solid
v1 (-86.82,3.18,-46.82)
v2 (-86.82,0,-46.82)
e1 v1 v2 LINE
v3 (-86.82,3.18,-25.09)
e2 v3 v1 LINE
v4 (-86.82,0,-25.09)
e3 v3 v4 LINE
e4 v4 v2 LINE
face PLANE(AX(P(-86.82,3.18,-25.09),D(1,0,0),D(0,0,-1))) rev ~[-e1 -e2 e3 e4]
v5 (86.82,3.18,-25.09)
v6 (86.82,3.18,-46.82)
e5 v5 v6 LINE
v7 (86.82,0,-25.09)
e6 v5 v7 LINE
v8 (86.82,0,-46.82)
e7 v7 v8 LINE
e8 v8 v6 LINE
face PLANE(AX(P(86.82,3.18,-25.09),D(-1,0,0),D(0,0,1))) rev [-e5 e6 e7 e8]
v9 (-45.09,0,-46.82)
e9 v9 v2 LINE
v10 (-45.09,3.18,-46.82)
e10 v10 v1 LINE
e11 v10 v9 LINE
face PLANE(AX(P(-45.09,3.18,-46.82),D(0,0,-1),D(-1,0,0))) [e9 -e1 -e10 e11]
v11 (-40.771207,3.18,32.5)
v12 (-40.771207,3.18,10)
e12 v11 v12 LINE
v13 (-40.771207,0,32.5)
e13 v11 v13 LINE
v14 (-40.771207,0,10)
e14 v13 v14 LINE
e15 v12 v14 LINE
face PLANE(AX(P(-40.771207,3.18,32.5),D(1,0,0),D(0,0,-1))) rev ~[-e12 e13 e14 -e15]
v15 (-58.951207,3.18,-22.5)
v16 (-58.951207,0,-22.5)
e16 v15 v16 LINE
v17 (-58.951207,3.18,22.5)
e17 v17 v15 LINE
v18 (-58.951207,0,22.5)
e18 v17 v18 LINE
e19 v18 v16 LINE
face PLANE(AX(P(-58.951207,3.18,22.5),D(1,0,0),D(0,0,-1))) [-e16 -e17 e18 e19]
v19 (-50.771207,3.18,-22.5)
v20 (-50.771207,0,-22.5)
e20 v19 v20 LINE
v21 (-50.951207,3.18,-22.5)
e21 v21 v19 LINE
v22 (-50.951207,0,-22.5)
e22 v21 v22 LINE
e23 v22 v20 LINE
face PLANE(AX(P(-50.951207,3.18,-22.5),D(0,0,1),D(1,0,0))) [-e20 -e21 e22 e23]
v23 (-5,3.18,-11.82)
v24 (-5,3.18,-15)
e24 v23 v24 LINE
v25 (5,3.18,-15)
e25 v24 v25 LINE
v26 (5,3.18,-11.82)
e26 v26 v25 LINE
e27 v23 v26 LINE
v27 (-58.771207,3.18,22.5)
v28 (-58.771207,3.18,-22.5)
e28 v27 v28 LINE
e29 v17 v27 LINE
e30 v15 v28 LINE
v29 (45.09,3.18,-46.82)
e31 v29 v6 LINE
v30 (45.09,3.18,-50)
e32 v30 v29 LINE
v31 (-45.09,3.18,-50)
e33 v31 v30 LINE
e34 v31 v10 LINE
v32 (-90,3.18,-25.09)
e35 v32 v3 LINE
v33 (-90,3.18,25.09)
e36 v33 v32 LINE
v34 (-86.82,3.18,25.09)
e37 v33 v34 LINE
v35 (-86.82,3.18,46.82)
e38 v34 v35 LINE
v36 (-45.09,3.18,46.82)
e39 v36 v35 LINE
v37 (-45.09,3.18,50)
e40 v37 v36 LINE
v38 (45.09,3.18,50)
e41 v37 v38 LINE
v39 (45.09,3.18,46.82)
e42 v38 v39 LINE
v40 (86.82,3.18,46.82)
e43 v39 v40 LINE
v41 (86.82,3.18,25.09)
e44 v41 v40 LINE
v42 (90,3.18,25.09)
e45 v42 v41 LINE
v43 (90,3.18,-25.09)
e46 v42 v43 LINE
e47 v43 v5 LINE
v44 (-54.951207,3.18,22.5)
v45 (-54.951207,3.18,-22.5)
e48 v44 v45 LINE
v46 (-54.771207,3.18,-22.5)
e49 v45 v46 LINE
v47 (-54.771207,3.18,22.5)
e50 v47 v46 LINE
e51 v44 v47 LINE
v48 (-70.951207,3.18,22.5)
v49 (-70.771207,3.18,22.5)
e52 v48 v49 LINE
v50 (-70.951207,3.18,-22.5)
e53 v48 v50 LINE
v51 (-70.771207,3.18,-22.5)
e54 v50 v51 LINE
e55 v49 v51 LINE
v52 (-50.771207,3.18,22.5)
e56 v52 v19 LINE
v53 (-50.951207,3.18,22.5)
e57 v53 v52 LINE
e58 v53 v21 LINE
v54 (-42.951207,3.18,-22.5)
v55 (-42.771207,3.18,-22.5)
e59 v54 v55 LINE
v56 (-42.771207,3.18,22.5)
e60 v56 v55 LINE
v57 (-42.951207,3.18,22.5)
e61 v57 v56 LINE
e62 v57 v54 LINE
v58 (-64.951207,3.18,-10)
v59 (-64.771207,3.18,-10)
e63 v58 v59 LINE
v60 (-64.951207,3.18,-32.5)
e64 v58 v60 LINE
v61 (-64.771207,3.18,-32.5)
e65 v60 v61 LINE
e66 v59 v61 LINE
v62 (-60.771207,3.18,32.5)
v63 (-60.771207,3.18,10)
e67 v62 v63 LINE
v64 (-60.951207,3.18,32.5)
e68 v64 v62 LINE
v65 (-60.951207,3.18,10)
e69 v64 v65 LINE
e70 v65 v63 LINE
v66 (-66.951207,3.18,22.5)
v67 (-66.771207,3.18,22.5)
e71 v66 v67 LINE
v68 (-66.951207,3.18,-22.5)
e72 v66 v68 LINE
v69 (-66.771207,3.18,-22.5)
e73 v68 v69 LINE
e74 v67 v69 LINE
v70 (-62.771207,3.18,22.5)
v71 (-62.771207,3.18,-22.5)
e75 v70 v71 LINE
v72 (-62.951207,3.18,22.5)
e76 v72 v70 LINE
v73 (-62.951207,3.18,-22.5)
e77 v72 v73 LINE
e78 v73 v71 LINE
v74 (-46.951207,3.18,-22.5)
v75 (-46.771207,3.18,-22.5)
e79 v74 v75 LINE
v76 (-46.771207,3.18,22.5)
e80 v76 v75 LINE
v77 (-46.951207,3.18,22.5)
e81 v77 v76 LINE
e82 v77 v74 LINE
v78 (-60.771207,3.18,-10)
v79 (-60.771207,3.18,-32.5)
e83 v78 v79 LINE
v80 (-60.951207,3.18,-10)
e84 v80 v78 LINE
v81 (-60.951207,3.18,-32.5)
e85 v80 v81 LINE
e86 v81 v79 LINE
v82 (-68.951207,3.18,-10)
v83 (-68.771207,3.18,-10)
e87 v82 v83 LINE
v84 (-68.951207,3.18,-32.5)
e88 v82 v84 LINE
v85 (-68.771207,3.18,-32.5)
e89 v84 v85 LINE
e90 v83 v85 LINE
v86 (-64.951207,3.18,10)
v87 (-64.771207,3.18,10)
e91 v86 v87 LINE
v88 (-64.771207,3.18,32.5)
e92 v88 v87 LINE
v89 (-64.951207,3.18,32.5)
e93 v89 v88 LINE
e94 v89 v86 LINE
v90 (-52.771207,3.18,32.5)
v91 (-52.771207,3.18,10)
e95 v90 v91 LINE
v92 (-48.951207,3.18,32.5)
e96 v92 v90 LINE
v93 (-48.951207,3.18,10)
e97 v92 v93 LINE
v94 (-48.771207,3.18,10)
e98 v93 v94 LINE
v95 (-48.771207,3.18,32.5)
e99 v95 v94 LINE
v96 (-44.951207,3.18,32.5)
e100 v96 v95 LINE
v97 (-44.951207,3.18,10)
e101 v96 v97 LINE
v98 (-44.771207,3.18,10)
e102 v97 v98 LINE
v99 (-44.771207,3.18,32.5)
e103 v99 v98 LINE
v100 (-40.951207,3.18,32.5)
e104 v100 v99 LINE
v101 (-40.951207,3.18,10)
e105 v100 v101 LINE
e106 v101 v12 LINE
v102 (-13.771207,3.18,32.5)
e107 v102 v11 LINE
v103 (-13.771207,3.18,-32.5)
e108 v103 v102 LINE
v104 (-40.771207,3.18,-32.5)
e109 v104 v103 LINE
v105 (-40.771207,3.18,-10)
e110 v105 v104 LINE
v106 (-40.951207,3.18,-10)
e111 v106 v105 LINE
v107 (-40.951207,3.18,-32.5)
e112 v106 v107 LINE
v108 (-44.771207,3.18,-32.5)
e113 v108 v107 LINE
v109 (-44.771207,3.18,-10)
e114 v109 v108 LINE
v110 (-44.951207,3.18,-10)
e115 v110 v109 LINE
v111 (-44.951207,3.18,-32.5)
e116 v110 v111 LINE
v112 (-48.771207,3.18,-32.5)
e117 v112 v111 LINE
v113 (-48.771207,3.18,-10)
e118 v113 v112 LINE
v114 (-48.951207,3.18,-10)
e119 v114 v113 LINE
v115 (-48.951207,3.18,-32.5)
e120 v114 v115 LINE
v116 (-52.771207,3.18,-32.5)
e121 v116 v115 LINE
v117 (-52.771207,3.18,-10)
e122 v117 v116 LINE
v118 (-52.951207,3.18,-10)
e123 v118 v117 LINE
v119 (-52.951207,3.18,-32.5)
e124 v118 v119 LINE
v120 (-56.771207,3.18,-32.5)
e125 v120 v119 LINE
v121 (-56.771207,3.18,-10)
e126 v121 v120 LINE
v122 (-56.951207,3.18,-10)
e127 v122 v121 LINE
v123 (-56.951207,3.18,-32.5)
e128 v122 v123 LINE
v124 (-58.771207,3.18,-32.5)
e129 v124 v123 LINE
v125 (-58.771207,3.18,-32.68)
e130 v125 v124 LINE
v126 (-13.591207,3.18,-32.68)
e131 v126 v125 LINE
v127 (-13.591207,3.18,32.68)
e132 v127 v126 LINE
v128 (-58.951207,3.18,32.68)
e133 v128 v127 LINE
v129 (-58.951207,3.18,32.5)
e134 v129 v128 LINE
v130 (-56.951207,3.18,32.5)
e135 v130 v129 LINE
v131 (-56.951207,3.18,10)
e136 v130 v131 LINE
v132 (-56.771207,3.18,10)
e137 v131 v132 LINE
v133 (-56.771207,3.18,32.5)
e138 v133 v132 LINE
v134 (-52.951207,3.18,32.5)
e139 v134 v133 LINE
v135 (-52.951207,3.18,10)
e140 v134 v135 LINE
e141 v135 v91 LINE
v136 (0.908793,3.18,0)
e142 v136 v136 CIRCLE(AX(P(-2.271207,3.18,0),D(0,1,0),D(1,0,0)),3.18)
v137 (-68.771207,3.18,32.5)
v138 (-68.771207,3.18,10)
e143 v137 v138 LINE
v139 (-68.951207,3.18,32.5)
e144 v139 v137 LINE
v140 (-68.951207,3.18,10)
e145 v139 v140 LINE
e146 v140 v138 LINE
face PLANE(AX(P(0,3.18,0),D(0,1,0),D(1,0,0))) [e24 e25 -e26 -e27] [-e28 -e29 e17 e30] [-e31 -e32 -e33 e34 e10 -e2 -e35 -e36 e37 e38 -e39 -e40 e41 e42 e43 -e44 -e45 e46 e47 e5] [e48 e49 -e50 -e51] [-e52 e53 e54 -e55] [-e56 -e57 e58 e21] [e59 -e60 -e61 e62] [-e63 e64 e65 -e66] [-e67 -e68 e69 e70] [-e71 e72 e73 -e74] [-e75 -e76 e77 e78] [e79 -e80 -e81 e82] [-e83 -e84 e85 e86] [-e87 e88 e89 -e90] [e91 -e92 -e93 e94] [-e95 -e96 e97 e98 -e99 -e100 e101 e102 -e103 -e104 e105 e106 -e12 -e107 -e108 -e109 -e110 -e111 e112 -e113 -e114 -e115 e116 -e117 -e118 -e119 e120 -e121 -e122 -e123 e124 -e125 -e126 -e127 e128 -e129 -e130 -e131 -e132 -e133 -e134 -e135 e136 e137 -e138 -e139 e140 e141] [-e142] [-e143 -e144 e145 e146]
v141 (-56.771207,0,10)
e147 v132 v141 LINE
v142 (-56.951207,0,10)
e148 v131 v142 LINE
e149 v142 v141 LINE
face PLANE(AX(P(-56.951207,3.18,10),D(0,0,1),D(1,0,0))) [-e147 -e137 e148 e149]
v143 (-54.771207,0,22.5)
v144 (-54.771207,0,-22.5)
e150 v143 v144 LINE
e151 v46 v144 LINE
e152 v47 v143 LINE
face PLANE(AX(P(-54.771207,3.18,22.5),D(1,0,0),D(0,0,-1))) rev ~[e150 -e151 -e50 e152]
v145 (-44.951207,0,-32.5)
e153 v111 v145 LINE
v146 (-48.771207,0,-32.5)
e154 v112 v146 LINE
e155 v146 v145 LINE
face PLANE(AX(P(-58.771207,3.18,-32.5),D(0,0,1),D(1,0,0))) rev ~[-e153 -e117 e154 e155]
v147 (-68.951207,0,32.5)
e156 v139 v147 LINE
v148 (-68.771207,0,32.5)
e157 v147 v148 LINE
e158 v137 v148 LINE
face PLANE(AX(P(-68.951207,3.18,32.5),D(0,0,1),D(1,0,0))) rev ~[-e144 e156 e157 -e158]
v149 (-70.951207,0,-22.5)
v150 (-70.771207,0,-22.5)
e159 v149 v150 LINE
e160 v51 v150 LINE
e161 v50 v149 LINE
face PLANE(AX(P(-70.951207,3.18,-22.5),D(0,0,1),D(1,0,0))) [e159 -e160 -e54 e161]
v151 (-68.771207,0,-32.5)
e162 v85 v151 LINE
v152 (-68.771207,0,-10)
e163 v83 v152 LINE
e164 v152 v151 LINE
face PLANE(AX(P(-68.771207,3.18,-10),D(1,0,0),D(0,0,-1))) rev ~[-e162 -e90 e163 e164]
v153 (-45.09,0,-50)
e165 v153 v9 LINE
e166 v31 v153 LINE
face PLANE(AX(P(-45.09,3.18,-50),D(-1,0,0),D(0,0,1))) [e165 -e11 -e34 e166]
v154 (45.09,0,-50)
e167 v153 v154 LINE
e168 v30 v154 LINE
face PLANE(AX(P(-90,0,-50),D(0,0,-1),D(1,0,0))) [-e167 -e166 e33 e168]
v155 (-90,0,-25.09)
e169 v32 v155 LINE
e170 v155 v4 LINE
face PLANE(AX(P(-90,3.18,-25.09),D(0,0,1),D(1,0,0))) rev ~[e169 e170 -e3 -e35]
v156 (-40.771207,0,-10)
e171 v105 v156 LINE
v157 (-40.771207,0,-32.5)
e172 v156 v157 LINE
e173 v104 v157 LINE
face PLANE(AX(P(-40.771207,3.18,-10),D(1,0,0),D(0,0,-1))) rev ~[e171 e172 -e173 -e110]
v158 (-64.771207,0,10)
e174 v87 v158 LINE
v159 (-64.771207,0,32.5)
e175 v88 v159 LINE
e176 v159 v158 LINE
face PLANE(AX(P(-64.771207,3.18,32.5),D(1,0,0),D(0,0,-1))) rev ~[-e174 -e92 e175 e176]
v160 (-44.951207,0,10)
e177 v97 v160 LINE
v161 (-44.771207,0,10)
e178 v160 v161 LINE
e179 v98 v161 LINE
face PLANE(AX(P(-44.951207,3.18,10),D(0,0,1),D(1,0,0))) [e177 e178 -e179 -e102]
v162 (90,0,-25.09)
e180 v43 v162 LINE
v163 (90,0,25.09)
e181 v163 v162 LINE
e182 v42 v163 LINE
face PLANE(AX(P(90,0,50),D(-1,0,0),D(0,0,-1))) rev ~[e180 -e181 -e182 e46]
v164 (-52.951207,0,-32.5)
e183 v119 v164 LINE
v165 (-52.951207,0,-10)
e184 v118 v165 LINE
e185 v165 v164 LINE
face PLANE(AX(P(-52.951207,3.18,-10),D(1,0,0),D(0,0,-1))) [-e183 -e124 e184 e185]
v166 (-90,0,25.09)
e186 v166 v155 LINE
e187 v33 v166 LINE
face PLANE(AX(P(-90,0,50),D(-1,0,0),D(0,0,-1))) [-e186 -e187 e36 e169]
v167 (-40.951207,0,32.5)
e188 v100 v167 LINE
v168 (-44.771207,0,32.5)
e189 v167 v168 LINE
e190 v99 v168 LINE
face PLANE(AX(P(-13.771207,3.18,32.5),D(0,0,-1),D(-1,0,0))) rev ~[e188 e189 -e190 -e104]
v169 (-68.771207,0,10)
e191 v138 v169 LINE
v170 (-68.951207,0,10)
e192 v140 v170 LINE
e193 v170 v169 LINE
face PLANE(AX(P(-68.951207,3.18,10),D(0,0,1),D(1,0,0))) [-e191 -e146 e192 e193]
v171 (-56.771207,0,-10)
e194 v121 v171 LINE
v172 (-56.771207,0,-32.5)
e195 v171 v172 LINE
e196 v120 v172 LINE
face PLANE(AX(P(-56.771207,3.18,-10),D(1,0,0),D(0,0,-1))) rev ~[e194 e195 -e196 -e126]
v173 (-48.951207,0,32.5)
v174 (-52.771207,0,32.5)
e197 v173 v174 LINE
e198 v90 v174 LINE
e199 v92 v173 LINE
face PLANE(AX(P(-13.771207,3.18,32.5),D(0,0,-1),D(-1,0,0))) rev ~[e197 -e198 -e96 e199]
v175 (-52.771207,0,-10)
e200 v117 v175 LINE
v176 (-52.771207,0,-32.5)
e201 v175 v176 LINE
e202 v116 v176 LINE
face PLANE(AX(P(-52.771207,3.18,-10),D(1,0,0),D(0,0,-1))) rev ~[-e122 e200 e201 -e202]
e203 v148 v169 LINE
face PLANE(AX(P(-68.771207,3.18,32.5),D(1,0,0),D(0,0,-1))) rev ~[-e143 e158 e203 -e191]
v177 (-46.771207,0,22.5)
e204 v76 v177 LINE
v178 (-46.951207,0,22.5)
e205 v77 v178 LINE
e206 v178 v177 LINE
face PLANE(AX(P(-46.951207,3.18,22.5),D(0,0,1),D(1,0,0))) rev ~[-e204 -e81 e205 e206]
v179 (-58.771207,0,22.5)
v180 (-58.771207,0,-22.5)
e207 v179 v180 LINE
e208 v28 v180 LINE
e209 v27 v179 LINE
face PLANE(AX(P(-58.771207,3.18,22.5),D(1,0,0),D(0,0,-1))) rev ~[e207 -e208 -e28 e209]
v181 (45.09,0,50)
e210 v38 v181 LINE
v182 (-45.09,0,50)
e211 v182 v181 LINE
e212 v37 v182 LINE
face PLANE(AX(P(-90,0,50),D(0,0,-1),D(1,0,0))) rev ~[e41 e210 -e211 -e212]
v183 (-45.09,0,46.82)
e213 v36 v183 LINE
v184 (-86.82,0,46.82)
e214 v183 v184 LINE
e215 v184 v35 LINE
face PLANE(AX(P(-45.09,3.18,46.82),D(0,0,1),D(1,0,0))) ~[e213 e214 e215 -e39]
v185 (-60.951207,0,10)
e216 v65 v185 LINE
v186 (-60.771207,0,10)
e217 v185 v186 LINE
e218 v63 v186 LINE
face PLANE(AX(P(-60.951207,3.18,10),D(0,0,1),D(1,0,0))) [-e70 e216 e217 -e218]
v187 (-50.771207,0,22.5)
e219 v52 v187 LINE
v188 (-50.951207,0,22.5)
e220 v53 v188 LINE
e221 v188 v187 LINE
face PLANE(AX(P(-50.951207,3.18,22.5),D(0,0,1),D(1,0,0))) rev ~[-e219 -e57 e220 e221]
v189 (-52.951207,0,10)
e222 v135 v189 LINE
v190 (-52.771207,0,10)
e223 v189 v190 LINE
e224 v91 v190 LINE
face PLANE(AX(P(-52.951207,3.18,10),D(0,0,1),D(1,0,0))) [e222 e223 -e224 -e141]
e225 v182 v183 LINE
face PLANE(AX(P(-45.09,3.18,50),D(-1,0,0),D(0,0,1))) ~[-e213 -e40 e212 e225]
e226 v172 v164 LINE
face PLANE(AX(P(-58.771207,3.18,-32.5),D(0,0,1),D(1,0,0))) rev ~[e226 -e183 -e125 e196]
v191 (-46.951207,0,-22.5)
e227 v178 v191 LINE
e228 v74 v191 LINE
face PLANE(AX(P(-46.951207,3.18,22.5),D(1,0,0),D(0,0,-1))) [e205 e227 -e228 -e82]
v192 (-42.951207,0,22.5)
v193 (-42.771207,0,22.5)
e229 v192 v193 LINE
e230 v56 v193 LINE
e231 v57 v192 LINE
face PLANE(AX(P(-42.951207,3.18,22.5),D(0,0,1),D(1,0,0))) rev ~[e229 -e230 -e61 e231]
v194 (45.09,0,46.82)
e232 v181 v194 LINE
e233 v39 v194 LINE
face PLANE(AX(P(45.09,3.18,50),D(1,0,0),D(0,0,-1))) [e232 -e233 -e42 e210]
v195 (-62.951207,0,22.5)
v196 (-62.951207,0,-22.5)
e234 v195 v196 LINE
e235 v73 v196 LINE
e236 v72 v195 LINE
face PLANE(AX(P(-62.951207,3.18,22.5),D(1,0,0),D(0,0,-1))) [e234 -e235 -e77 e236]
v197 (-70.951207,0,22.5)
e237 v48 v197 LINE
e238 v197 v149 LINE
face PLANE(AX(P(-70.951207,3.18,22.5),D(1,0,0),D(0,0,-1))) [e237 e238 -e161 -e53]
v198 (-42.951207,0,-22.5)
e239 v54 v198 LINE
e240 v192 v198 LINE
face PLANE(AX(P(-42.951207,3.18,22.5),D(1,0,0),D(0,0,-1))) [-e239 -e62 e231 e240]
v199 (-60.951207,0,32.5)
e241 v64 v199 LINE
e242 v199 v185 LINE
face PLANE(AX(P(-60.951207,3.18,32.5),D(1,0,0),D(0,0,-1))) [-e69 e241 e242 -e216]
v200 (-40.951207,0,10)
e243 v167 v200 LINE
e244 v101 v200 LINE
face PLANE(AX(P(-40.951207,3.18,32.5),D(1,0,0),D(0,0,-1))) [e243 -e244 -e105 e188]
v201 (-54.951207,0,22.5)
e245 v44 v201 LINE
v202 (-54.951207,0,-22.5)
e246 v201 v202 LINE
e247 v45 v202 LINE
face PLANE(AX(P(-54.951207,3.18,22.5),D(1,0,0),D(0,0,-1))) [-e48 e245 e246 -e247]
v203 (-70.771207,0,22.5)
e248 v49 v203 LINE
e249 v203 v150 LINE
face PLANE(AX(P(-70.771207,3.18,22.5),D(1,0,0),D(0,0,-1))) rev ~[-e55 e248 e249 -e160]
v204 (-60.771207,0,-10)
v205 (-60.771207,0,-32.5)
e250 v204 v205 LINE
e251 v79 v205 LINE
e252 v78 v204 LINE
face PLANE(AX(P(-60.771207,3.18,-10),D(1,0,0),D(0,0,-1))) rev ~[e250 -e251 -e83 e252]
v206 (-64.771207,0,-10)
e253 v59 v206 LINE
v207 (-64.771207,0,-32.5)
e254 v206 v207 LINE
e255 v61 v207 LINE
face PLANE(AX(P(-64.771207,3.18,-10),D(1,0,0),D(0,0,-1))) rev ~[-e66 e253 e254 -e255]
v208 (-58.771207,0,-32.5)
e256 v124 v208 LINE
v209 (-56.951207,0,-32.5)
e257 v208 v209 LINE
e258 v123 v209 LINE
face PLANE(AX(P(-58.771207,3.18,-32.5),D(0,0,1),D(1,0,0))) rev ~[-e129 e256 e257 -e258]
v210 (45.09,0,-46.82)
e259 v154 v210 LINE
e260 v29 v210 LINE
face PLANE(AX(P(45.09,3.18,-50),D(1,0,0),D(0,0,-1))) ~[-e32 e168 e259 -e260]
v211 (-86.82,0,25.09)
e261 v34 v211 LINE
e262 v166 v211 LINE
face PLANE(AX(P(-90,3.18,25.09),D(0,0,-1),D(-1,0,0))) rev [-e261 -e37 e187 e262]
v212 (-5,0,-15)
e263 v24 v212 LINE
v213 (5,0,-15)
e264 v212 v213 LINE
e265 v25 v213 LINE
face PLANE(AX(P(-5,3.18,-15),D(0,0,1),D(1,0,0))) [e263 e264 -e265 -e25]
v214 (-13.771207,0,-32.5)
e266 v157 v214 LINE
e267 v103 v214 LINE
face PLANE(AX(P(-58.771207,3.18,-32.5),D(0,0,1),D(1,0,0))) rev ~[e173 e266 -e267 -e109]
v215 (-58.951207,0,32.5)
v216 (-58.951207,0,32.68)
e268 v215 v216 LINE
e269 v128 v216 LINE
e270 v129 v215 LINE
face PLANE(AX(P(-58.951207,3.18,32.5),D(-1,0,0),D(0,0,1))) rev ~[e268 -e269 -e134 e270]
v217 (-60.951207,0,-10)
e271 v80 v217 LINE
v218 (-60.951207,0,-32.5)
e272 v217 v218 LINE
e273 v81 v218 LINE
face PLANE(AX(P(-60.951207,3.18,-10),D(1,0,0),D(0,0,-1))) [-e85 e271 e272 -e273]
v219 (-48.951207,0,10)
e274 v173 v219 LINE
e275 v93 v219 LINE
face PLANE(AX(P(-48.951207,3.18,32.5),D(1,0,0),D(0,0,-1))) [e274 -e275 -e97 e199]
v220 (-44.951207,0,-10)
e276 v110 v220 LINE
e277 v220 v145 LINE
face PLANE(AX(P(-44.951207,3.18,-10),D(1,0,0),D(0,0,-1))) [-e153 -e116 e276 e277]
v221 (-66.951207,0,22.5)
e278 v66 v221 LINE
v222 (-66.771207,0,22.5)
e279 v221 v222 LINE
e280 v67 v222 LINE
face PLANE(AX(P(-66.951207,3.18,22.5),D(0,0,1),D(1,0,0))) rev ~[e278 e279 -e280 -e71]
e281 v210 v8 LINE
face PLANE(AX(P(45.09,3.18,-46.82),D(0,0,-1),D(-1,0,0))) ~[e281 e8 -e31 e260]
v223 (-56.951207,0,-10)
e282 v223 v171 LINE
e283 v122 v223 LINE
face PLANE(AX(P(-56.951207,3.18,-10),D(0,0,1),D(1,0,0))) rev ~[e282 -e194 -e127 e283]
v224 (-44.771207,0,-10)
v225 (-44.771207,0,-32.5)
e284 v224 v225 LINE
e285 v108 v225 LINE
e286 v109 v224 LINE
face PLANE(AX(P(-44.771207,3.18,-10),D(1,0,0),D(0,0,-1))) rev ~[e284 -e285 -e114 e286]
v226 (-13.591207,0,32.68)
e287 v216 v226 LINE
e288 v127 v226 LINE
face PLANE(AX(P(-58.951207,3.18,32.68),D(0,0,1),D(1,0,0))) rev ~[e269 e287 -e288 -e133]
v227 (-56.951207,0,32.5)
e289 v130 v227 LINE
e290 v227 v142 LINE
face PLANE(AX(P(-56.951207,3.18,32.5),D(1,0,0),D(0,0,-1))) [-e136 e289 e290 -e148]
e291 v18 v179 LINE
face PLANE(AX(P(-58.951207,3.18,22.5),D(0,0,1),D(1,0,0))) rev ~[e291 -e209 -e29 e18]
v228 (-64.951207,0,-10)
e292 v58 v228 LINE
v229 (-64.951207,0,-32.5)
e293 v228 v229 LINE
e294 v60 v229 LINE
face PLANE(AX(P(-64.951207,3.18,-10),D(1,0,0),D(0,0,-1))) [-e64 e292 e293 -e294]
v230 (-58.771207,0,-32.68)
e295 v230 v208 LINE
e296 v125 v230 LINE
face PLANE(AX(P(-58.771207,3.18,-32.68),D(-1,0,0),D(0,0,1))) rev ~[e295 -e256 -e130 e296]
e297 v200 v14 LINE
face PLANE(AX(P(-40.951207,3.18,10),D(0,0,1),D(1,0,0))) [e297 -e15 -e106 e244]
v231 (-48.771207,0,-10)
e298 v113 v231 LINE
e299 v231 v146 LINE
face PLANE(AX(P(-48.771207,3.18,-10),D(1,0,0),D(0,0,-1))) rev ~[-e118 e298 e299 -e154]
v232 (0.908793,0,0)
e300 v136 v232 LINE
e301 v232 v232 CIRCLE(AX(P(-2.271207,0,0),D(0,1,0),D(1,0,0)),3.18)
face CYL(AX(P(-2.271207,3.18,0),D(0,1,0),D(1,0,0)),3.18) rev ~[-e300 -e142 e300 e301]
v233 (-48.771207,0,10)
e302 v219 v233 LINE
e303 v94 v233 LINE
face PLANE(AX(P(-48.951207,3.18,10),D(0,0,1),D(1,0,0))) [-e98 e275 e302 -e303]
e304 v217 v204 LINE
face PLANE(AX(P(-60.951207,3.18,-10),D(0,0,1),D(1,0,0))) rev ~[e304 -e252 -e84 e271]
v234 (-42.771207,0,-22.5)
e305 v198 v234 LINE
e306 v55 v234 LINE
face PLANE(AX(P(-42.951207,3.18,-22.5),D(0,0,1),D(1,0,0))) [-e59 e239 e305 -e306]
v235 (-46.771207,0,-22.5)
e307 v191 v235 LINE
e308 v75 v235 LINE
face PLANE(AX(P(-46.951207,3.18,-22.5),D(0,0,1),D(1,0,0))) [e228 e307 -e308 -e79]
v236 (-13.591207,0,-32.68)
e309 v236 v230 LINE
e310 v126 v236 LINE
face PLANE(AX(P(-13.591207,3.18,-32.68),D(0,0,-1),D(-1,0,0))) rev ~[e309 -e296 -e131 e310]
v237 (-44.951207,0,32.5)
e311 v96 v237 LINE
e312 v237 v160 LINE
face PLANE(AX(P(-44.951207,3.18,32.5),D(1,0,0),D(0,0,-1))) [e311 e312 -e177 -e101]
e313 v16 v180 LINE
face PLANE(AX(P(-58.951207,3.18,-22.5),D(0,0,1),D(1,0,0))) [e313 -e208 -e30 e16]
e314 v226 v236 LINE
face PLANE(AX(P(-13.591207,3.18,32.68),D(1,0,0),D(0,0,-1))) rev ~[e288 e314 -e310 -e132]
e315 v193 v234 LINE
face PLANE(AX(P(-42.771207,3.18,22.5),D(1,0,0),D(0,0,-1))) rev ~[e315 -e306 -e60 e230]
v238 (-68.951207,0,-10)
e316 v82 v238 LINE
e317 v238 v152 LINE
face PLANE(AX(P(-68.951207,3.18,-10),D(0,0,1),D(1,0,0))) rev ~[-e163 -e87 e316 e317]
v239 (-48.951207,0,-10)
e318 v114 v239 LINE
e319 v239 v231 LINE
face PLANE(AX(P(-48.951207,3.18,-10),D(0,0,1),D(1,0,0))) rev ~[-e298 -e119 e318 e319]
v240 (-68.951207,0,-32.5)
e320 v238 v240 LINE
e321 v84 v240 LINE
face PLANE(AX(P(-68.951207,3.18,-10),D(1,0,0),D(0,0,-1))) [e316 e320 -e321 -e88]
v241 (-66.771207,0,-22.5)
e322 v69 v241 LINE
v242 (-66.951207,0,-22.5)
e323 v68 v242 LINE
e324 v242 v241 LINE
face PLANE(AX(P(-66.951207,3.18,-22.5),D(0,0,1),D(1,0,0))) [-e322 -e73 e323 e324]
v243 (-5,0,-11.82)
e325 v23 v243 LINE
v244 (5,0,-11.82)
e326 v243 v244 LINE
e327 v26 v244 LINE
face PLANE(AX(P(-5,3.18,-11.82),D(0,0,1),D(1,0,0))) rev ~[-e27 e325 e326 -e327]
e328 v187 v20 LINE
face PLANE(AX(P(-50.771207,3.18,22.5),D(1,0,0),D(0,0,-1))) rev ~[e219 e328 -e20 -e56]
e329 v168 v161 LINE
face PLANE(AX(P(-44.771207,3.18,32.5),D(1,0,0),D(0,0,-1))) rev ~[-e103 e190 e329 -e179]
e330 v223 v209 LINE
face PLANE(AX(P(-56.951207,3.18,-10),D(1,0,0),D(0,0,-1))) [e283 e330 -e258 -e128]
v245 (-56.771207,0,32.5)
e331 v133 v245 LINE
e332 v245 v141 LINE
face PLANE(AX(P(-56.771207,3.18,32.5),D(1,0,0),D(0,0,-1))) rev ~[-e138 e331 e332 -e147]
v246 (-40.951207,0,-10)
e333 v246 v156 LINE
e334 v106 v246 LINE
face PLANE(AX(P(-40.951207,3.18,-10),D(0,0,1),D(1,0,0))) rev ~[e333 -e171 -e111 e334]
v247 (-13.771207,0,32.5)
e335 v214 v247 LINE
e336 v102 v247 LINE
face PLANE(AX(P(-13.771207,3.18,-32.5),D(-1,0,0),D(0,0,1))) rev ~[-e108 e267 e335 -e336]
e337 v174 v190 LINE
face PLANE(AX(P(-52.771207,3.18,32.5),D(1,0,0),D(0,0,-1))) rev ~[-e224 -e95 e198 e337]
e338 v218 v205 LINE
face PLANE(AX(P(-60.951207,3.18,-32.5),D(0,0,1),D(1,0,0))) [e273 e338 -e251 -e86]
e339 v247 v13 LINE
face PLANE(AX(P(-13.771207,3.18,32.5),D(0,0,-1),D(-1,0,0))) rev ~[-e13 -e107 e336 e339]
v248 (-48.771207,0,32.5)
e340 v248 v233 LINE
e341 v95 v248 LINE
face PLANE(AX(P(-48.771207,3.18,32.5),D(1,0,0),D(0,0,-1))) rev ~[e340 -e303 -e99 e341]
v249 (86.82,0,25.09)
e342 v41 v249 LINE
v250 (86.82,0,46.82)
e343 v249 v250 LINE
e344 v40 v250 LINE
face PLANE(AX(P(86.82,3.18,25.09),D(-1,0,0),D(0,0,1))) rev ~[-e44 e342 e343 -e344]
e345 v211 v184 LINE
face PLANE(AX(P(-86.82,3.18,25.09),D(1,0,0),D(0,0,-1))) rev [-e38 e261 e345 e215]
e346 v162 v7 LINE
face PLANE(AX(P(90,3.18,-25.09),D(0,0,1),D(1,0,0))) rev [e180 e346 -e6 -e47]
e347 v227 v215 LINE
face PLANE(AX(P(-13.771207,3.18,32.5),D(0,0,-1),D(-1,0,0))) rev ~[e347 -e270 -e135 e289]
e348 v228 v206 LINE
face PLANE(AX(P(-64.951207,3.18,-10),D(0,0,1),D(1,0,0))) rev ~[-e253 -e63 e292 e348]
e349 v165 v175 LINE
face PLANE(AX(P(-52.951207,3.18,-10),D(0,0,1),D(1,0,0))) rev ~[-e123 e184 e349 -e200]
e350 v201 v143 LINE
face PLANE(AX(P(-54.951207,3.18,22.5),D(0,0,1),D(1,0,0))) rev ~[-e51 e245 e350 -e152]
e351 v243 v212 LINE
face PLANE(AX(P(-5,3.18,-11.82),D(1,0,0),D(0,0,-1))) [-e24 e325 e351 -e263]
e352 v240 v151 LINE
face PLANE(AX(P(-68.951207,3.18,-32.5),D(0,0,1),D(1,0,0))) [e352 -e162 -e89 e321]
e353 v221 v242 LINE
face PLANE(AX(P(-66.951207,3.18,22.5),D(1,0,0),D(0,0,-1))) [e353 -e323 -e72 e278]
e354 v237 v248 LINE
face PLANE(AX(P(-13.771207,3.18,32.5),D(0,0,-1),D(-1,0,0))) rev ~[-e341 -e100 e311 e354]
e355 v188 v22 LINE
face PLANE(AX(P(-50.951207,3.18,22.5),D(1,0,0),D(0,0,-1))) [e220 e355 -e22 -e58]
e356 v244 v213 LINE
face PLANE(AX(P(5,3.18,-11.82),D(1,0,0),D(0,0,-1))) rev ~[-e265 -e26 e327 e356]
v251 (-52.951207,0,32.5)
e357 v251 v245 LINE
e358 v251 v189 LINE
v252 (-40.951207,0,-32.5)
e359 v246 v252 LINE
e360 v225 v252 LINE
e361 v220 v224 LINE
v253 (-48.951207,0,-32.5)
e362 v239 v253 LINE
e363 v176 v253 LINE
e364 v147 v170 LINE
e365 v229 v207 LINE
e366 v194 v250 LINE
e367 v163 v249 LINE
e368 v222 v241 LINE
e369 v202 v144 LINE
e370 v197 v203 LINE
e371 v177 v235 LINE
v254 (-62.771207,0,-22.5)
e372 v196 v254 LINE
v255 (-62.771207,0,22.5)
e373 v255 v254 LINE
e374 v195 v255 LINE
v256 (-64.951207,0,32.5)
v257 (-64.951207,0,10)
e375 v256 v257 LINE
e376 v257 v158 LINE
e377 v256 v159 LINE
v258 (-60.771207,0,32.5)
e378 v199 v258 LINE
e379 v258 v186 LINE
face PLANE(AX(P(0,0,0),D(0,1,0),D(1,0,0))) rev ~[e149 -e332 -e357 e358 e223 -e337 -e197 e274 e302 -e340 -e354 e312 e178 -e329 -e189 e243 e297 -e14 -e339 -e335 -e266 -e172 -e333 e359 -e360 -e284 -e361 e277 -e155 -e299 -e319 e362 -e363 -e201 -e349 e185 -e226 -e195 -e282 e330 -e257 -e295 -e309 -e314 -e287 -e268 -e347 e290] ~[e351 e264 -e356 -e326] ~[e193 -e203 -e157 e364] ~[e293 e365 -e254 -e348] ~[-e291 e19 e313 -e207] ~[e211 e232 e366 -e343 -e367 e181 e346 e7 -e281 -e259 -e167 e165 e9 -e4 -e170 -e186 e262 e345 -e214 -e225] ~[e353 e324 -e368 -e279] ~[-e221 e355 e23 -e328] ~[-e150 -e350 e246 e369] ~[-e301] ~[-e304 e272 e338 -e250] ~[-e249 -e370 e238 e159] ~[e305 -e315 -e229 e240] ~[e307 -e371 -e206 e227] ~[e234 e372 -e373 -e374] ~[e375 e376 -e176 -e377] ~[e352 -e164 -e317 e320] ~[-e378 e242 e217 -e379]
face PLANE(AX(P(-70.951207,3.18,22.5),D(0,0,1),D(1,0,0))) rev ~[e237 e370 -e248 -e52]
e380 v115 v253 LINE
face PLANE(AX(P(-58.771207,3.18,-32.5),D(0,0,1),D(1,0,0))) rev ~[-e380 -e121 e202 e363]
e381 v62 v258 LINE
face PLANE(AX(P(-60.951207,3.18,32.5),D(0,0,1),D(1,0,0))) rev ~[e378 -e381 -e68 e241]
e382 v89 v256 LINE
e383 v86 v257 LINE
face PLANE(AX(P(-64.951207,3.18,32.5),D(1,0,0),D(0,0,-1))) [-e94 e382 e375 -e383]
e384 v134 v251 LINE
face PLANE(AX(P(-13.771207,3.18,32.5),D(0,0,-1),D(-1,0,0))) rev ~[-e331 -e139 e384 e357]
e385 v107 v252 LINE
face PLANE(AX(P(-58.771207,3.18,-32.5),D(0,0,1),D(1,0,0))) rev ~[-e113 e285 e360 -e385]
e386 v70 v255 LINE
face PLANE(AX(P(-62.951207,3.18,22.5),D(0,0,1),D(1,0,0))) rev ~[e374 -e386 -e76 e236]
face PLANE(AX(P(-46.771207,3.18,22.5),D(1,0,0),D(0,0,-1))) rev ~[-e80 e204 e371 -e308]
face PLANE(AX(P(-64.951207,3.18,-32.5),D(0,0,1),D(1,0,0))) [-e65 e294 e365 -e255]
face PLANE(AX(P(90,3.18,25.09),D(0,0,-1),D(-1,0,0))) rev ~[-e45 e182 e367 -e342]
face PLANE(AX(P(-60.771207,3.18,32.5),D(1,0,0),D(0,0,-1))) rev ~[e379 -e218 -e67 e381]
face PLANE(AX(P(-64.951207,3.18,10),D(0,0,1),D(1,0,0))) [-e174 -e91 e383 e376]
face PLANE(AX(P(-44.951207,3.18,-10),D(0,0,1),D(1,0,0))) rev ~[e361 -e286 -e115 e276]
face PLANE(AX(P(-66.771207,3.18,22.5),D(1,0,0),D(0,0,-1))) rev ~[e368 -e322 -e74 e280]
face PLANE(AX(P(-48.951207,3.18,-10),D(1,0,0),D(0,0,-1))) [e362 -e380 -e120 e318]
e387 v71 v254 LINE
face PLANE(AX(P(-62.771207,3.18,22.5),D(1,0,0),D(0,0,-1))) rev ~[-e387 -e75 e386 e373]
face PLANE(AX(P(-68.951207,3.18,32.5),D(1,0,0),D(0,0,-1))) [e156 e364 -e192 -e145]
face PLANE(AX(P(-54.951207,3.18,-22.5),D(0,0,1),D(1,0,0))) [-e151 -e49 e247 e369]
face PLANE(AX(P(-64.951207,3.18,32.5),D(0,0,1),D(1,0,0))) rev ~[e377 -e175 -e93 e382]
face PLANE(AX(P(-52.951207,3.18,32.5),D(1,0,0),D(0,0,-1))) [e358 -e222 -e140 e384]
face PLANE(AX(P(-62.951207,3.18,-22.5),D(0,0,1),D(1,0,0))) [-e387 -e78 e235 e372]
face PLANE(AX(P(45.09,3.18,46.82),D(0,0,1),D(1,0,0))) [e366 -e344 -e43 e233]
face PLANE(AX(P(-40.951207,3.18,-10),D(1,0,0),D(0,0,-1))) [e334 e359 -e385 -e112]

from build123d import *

# Parameters (mm, degrees)
SKETCH1_W                    = 180
SKETCH1_H                    = 100
BOSS_EXTRUDE1_DEPTH          = 3.18
SKETCH3_W                    = 44.91
SKETCH3_H                    = 3.18
CUT_EXTRUDE1_DEPTH           = 3.18
MIRROR2_COPY_1_SKETCH_W      = 44.91
MIRROR2_COPY_1_SKETCH_H      = 3.18
MIRROR2_COPY_1_DEPTH         = 3.18
SKETCH4_W                    = 3.18
SKETCH4_H                    = 24.91
CUT_EXTRUDE2_DEPTH           = 3.18
MIRROR4_COPY_1_SKETCH_W      = 3.18
MIRROR4_COPY_1_SKETCH_H      = 24.91
MIRROR4_COPY_1_DEPTH         = 3.18
SKETCH6_R                    = 3.18
CUT_EXTRUDE3_DEPTH           = 3.18
SKETCH7_W                    = 10
SKETCH7_H                    = 3.18
CUT_EXTRUDE4_DEPTH           = 3.18
SKETCH5_W                    = 0.18
SKETCH5_H                    = 45
SKETCH5_H_2                  = 22.5
CUT_EXTRUDE_THIN1_DEPTH      = 10
LPATTERN2_COUNT              = 5
LPATTERN2_PITCH              = 4
LPATTERN2_COL_COUNT          = 4
LPATTERN2_COL_PITCH          = 4
CUT_EXTRUDE_THIN2_DEPTH      = 1
CUT_EXTRUDE_THIN2_DEPTH_BACK = 10


with BuildPart() as part:
    # Sketch1 → Boss-Extrude1 (new body)
    with BuildSketch(Plane(origin=(0, 0, 0), x_dir=(1, 0, 0), z_dir=(0, 1, 0))):
        Rectangle(SKETCH1_W, SKETCH1_H)
    extrude(amount=BOSS_EXTRUDE1_DEPTH)

    # Sketch3 → Cut-Extrude1 (cut)
    with BuildSketch(Plane(origin=(0, 3.18, 0), x_dir=(1, 0, 0), z_dir=(0, 1, 0))):
        with Locations((67.545, -48.41)):
            Rectangle(SKETCH3_W, SKETCH3_H)
    cut_extrude1 = extrude(amount=-CUT_EXTRUDE1_DEPTH, mode=Mode.SUBTRACT)

    # Mirror1: Cut-Extrude1 across plane
    add(cut_extrude1.mirror(Plane(origin=(0, 0, 0), x_dir=(0, 0, 1), z_dir=(1, 0, 0))), mode=Mode.SUBTRACT)

    # Mirror2: Cut-Extrude1 across plane
    add(cut_extrude1.mirror(Plane.XY), mode=Mode.SUBTRACT)

    # Mirror2 copy 1 sketch → Mirror2 copy 1 (cut)
    with BuildSketch(Plane(origin=(0, 3.18, 0), x_dir=(-1, 0, 0), z_dir=(0, 1, 0))):
        with Locations((67.545, -48.41)):
            Rectangle(MIRROR2_COPY_1_SKETCH_W, MIRROR2_COPY_1_SKETCH_H)
    extrude(amount=-MIRROR2_COPY_1_DEPTH, mode=Mode.SUBTRACT)

    # Sketch4 → Cut-Extrude2 (cut)
    with BuildSketch(Plane(origin=(0, 3.18, 0), x_dir=(1, 0, 0), z_dir=(0, 1, 0))):
        with Locations((-88.41, 37.545)):
            Rectangle(SKETCH4_W, SKETCH4_H)
    cut_extrude2 = extrude(amount=-CUT_EXTRUDE2_DEPTH, mode=Mode.SUBTRACT)

    # Mirror3: Cut-Extrude2 across plane
    add(cut_extrude2.mirror(Plane.XY), mode=Mode.SUBTRACT)

    # Mirror4: Cut-Extrude2 across plane
    add(cut_extrude2.mirror(Plane(origin=(0, 0, 0), x_dir=(0, 0, 1), z_dir=(1, 0, 0))), mode=Mode.SUBTRACT)

    # Mirror4 copy 1 sketch → Mirror4 copy 1 (cut)
    with BuildSketch(Plane(origin=(0, 3.18, 0), x_dir=(-1, 0, 0), z_dir=(0, 1, 0))):
        with Locations((-88.41, 37.545)):
            Rectangle(MIRROR4_COPY_1_SKETCH_W, MIRROR4_COPY_1_SKETCH_H)
    extrude(amount=-MIRROR4_COPY_1_DEPTH, mode=Mode.SUBTRACT)

    # Sketch6 → Cut-Extrude3 (cut)
    with BuildSketch(Plane(origin=(0, 3.18, 0), x_dir=(1, 0, 0), z_dir=(0, 1, 0))):
        with Locations((-2.271207142, 0)):
            Circle(SKETCH6_R)
    extrude(amount=-CUT_EXTRUDE3_DEPTH, mode=Mode.SUBTRACT)

    # Sketch7 → Cut-Extrude4 (cut)
    with BuildSketch(Plane(origin=(0, 3.18, 0), x_dir=(1, 0, 0), z_dir=(0, 1, 0))):
        with Locations((0, 13.41)):
            Rectangle(SKETCH7_W, SKETCH7_H)
    extrude(amount=-CUT_EXTRUDE4_DEPTH, mode=Mode.SUBTRACT)

    # Sketch5 → Cut-Extrude-Thin1 (cut)
    with BuildSketch(Plane(origin=(0, 3.18, 0), x_dir=(1, 0, 0), z_dir=(0, 1, 0))):
        with Locations((-58.861207142, 0)):
            Rectangle(SKETCH5_W, SKETCH5_H)
        with Locations((-56.861207142, 21.25)):
            Rectangle(SKETCH5_W, SKETCH5_H_2)
        with Locations((-56.861207142, -21.25)):
            Rectangle(SKETCH5_W, SKETCH5_H_2)
    cut_extrude_thin1 = extrude(amount=-CUT_EXTRUDE_THIN1_DEPTH, mode=Mode.SUBTRACT)

    # LPattern2: Cut-Extrude-Thin1 ×5
    with Locations(*[(i * LPATTERN2_PITCH, 0, 0) for i in range(1, LPATTERN2_COUNT)]):
        add(cut_extrude_thin1, mode=Mode.SUBTRACT)

    # LPattern2 col: Cut-Extrude-Thin1 ×4
    with Locations(*[(-i * LPATTERN2_COL_PITCH, 0, 0) for i in range(1, LPATTERN2_COL_COUNT)]):
        add(cut_extrude_thin1, mode=Mode.SUBTRACT)

    # Sketch9 → Cut-Extrude-Thin2 (cut, two sides)
    with BuildSketch(Plane(origin=(0, 3.18, 0), x_dir=(1, 0, 0), z_dir=(0, 1, 0))) as cut_extrude_thin2_sk:
        Polygon((-58.771207142, 32.5), (-13.771207142, 32.5), (-13.771207142, -32.5), (-58.951207142, -32.5), (-58.951207142, -32.68), (-13.591207142, -32.68), (-13.591207142, 32.68), (-58.771207142, 32.68), align=None)
    extrude(amount=CUT_EXTRUDE_THIN2_DEPTH, mode=Mode.SUBTRACT)
    extrude(cut_extrude_thin2_sk.sketch, amount=-CUT_EXTRUDE_THIN2_DEPTH_BACK, mode=Mode.SUBTRACT)


solid = part.part
